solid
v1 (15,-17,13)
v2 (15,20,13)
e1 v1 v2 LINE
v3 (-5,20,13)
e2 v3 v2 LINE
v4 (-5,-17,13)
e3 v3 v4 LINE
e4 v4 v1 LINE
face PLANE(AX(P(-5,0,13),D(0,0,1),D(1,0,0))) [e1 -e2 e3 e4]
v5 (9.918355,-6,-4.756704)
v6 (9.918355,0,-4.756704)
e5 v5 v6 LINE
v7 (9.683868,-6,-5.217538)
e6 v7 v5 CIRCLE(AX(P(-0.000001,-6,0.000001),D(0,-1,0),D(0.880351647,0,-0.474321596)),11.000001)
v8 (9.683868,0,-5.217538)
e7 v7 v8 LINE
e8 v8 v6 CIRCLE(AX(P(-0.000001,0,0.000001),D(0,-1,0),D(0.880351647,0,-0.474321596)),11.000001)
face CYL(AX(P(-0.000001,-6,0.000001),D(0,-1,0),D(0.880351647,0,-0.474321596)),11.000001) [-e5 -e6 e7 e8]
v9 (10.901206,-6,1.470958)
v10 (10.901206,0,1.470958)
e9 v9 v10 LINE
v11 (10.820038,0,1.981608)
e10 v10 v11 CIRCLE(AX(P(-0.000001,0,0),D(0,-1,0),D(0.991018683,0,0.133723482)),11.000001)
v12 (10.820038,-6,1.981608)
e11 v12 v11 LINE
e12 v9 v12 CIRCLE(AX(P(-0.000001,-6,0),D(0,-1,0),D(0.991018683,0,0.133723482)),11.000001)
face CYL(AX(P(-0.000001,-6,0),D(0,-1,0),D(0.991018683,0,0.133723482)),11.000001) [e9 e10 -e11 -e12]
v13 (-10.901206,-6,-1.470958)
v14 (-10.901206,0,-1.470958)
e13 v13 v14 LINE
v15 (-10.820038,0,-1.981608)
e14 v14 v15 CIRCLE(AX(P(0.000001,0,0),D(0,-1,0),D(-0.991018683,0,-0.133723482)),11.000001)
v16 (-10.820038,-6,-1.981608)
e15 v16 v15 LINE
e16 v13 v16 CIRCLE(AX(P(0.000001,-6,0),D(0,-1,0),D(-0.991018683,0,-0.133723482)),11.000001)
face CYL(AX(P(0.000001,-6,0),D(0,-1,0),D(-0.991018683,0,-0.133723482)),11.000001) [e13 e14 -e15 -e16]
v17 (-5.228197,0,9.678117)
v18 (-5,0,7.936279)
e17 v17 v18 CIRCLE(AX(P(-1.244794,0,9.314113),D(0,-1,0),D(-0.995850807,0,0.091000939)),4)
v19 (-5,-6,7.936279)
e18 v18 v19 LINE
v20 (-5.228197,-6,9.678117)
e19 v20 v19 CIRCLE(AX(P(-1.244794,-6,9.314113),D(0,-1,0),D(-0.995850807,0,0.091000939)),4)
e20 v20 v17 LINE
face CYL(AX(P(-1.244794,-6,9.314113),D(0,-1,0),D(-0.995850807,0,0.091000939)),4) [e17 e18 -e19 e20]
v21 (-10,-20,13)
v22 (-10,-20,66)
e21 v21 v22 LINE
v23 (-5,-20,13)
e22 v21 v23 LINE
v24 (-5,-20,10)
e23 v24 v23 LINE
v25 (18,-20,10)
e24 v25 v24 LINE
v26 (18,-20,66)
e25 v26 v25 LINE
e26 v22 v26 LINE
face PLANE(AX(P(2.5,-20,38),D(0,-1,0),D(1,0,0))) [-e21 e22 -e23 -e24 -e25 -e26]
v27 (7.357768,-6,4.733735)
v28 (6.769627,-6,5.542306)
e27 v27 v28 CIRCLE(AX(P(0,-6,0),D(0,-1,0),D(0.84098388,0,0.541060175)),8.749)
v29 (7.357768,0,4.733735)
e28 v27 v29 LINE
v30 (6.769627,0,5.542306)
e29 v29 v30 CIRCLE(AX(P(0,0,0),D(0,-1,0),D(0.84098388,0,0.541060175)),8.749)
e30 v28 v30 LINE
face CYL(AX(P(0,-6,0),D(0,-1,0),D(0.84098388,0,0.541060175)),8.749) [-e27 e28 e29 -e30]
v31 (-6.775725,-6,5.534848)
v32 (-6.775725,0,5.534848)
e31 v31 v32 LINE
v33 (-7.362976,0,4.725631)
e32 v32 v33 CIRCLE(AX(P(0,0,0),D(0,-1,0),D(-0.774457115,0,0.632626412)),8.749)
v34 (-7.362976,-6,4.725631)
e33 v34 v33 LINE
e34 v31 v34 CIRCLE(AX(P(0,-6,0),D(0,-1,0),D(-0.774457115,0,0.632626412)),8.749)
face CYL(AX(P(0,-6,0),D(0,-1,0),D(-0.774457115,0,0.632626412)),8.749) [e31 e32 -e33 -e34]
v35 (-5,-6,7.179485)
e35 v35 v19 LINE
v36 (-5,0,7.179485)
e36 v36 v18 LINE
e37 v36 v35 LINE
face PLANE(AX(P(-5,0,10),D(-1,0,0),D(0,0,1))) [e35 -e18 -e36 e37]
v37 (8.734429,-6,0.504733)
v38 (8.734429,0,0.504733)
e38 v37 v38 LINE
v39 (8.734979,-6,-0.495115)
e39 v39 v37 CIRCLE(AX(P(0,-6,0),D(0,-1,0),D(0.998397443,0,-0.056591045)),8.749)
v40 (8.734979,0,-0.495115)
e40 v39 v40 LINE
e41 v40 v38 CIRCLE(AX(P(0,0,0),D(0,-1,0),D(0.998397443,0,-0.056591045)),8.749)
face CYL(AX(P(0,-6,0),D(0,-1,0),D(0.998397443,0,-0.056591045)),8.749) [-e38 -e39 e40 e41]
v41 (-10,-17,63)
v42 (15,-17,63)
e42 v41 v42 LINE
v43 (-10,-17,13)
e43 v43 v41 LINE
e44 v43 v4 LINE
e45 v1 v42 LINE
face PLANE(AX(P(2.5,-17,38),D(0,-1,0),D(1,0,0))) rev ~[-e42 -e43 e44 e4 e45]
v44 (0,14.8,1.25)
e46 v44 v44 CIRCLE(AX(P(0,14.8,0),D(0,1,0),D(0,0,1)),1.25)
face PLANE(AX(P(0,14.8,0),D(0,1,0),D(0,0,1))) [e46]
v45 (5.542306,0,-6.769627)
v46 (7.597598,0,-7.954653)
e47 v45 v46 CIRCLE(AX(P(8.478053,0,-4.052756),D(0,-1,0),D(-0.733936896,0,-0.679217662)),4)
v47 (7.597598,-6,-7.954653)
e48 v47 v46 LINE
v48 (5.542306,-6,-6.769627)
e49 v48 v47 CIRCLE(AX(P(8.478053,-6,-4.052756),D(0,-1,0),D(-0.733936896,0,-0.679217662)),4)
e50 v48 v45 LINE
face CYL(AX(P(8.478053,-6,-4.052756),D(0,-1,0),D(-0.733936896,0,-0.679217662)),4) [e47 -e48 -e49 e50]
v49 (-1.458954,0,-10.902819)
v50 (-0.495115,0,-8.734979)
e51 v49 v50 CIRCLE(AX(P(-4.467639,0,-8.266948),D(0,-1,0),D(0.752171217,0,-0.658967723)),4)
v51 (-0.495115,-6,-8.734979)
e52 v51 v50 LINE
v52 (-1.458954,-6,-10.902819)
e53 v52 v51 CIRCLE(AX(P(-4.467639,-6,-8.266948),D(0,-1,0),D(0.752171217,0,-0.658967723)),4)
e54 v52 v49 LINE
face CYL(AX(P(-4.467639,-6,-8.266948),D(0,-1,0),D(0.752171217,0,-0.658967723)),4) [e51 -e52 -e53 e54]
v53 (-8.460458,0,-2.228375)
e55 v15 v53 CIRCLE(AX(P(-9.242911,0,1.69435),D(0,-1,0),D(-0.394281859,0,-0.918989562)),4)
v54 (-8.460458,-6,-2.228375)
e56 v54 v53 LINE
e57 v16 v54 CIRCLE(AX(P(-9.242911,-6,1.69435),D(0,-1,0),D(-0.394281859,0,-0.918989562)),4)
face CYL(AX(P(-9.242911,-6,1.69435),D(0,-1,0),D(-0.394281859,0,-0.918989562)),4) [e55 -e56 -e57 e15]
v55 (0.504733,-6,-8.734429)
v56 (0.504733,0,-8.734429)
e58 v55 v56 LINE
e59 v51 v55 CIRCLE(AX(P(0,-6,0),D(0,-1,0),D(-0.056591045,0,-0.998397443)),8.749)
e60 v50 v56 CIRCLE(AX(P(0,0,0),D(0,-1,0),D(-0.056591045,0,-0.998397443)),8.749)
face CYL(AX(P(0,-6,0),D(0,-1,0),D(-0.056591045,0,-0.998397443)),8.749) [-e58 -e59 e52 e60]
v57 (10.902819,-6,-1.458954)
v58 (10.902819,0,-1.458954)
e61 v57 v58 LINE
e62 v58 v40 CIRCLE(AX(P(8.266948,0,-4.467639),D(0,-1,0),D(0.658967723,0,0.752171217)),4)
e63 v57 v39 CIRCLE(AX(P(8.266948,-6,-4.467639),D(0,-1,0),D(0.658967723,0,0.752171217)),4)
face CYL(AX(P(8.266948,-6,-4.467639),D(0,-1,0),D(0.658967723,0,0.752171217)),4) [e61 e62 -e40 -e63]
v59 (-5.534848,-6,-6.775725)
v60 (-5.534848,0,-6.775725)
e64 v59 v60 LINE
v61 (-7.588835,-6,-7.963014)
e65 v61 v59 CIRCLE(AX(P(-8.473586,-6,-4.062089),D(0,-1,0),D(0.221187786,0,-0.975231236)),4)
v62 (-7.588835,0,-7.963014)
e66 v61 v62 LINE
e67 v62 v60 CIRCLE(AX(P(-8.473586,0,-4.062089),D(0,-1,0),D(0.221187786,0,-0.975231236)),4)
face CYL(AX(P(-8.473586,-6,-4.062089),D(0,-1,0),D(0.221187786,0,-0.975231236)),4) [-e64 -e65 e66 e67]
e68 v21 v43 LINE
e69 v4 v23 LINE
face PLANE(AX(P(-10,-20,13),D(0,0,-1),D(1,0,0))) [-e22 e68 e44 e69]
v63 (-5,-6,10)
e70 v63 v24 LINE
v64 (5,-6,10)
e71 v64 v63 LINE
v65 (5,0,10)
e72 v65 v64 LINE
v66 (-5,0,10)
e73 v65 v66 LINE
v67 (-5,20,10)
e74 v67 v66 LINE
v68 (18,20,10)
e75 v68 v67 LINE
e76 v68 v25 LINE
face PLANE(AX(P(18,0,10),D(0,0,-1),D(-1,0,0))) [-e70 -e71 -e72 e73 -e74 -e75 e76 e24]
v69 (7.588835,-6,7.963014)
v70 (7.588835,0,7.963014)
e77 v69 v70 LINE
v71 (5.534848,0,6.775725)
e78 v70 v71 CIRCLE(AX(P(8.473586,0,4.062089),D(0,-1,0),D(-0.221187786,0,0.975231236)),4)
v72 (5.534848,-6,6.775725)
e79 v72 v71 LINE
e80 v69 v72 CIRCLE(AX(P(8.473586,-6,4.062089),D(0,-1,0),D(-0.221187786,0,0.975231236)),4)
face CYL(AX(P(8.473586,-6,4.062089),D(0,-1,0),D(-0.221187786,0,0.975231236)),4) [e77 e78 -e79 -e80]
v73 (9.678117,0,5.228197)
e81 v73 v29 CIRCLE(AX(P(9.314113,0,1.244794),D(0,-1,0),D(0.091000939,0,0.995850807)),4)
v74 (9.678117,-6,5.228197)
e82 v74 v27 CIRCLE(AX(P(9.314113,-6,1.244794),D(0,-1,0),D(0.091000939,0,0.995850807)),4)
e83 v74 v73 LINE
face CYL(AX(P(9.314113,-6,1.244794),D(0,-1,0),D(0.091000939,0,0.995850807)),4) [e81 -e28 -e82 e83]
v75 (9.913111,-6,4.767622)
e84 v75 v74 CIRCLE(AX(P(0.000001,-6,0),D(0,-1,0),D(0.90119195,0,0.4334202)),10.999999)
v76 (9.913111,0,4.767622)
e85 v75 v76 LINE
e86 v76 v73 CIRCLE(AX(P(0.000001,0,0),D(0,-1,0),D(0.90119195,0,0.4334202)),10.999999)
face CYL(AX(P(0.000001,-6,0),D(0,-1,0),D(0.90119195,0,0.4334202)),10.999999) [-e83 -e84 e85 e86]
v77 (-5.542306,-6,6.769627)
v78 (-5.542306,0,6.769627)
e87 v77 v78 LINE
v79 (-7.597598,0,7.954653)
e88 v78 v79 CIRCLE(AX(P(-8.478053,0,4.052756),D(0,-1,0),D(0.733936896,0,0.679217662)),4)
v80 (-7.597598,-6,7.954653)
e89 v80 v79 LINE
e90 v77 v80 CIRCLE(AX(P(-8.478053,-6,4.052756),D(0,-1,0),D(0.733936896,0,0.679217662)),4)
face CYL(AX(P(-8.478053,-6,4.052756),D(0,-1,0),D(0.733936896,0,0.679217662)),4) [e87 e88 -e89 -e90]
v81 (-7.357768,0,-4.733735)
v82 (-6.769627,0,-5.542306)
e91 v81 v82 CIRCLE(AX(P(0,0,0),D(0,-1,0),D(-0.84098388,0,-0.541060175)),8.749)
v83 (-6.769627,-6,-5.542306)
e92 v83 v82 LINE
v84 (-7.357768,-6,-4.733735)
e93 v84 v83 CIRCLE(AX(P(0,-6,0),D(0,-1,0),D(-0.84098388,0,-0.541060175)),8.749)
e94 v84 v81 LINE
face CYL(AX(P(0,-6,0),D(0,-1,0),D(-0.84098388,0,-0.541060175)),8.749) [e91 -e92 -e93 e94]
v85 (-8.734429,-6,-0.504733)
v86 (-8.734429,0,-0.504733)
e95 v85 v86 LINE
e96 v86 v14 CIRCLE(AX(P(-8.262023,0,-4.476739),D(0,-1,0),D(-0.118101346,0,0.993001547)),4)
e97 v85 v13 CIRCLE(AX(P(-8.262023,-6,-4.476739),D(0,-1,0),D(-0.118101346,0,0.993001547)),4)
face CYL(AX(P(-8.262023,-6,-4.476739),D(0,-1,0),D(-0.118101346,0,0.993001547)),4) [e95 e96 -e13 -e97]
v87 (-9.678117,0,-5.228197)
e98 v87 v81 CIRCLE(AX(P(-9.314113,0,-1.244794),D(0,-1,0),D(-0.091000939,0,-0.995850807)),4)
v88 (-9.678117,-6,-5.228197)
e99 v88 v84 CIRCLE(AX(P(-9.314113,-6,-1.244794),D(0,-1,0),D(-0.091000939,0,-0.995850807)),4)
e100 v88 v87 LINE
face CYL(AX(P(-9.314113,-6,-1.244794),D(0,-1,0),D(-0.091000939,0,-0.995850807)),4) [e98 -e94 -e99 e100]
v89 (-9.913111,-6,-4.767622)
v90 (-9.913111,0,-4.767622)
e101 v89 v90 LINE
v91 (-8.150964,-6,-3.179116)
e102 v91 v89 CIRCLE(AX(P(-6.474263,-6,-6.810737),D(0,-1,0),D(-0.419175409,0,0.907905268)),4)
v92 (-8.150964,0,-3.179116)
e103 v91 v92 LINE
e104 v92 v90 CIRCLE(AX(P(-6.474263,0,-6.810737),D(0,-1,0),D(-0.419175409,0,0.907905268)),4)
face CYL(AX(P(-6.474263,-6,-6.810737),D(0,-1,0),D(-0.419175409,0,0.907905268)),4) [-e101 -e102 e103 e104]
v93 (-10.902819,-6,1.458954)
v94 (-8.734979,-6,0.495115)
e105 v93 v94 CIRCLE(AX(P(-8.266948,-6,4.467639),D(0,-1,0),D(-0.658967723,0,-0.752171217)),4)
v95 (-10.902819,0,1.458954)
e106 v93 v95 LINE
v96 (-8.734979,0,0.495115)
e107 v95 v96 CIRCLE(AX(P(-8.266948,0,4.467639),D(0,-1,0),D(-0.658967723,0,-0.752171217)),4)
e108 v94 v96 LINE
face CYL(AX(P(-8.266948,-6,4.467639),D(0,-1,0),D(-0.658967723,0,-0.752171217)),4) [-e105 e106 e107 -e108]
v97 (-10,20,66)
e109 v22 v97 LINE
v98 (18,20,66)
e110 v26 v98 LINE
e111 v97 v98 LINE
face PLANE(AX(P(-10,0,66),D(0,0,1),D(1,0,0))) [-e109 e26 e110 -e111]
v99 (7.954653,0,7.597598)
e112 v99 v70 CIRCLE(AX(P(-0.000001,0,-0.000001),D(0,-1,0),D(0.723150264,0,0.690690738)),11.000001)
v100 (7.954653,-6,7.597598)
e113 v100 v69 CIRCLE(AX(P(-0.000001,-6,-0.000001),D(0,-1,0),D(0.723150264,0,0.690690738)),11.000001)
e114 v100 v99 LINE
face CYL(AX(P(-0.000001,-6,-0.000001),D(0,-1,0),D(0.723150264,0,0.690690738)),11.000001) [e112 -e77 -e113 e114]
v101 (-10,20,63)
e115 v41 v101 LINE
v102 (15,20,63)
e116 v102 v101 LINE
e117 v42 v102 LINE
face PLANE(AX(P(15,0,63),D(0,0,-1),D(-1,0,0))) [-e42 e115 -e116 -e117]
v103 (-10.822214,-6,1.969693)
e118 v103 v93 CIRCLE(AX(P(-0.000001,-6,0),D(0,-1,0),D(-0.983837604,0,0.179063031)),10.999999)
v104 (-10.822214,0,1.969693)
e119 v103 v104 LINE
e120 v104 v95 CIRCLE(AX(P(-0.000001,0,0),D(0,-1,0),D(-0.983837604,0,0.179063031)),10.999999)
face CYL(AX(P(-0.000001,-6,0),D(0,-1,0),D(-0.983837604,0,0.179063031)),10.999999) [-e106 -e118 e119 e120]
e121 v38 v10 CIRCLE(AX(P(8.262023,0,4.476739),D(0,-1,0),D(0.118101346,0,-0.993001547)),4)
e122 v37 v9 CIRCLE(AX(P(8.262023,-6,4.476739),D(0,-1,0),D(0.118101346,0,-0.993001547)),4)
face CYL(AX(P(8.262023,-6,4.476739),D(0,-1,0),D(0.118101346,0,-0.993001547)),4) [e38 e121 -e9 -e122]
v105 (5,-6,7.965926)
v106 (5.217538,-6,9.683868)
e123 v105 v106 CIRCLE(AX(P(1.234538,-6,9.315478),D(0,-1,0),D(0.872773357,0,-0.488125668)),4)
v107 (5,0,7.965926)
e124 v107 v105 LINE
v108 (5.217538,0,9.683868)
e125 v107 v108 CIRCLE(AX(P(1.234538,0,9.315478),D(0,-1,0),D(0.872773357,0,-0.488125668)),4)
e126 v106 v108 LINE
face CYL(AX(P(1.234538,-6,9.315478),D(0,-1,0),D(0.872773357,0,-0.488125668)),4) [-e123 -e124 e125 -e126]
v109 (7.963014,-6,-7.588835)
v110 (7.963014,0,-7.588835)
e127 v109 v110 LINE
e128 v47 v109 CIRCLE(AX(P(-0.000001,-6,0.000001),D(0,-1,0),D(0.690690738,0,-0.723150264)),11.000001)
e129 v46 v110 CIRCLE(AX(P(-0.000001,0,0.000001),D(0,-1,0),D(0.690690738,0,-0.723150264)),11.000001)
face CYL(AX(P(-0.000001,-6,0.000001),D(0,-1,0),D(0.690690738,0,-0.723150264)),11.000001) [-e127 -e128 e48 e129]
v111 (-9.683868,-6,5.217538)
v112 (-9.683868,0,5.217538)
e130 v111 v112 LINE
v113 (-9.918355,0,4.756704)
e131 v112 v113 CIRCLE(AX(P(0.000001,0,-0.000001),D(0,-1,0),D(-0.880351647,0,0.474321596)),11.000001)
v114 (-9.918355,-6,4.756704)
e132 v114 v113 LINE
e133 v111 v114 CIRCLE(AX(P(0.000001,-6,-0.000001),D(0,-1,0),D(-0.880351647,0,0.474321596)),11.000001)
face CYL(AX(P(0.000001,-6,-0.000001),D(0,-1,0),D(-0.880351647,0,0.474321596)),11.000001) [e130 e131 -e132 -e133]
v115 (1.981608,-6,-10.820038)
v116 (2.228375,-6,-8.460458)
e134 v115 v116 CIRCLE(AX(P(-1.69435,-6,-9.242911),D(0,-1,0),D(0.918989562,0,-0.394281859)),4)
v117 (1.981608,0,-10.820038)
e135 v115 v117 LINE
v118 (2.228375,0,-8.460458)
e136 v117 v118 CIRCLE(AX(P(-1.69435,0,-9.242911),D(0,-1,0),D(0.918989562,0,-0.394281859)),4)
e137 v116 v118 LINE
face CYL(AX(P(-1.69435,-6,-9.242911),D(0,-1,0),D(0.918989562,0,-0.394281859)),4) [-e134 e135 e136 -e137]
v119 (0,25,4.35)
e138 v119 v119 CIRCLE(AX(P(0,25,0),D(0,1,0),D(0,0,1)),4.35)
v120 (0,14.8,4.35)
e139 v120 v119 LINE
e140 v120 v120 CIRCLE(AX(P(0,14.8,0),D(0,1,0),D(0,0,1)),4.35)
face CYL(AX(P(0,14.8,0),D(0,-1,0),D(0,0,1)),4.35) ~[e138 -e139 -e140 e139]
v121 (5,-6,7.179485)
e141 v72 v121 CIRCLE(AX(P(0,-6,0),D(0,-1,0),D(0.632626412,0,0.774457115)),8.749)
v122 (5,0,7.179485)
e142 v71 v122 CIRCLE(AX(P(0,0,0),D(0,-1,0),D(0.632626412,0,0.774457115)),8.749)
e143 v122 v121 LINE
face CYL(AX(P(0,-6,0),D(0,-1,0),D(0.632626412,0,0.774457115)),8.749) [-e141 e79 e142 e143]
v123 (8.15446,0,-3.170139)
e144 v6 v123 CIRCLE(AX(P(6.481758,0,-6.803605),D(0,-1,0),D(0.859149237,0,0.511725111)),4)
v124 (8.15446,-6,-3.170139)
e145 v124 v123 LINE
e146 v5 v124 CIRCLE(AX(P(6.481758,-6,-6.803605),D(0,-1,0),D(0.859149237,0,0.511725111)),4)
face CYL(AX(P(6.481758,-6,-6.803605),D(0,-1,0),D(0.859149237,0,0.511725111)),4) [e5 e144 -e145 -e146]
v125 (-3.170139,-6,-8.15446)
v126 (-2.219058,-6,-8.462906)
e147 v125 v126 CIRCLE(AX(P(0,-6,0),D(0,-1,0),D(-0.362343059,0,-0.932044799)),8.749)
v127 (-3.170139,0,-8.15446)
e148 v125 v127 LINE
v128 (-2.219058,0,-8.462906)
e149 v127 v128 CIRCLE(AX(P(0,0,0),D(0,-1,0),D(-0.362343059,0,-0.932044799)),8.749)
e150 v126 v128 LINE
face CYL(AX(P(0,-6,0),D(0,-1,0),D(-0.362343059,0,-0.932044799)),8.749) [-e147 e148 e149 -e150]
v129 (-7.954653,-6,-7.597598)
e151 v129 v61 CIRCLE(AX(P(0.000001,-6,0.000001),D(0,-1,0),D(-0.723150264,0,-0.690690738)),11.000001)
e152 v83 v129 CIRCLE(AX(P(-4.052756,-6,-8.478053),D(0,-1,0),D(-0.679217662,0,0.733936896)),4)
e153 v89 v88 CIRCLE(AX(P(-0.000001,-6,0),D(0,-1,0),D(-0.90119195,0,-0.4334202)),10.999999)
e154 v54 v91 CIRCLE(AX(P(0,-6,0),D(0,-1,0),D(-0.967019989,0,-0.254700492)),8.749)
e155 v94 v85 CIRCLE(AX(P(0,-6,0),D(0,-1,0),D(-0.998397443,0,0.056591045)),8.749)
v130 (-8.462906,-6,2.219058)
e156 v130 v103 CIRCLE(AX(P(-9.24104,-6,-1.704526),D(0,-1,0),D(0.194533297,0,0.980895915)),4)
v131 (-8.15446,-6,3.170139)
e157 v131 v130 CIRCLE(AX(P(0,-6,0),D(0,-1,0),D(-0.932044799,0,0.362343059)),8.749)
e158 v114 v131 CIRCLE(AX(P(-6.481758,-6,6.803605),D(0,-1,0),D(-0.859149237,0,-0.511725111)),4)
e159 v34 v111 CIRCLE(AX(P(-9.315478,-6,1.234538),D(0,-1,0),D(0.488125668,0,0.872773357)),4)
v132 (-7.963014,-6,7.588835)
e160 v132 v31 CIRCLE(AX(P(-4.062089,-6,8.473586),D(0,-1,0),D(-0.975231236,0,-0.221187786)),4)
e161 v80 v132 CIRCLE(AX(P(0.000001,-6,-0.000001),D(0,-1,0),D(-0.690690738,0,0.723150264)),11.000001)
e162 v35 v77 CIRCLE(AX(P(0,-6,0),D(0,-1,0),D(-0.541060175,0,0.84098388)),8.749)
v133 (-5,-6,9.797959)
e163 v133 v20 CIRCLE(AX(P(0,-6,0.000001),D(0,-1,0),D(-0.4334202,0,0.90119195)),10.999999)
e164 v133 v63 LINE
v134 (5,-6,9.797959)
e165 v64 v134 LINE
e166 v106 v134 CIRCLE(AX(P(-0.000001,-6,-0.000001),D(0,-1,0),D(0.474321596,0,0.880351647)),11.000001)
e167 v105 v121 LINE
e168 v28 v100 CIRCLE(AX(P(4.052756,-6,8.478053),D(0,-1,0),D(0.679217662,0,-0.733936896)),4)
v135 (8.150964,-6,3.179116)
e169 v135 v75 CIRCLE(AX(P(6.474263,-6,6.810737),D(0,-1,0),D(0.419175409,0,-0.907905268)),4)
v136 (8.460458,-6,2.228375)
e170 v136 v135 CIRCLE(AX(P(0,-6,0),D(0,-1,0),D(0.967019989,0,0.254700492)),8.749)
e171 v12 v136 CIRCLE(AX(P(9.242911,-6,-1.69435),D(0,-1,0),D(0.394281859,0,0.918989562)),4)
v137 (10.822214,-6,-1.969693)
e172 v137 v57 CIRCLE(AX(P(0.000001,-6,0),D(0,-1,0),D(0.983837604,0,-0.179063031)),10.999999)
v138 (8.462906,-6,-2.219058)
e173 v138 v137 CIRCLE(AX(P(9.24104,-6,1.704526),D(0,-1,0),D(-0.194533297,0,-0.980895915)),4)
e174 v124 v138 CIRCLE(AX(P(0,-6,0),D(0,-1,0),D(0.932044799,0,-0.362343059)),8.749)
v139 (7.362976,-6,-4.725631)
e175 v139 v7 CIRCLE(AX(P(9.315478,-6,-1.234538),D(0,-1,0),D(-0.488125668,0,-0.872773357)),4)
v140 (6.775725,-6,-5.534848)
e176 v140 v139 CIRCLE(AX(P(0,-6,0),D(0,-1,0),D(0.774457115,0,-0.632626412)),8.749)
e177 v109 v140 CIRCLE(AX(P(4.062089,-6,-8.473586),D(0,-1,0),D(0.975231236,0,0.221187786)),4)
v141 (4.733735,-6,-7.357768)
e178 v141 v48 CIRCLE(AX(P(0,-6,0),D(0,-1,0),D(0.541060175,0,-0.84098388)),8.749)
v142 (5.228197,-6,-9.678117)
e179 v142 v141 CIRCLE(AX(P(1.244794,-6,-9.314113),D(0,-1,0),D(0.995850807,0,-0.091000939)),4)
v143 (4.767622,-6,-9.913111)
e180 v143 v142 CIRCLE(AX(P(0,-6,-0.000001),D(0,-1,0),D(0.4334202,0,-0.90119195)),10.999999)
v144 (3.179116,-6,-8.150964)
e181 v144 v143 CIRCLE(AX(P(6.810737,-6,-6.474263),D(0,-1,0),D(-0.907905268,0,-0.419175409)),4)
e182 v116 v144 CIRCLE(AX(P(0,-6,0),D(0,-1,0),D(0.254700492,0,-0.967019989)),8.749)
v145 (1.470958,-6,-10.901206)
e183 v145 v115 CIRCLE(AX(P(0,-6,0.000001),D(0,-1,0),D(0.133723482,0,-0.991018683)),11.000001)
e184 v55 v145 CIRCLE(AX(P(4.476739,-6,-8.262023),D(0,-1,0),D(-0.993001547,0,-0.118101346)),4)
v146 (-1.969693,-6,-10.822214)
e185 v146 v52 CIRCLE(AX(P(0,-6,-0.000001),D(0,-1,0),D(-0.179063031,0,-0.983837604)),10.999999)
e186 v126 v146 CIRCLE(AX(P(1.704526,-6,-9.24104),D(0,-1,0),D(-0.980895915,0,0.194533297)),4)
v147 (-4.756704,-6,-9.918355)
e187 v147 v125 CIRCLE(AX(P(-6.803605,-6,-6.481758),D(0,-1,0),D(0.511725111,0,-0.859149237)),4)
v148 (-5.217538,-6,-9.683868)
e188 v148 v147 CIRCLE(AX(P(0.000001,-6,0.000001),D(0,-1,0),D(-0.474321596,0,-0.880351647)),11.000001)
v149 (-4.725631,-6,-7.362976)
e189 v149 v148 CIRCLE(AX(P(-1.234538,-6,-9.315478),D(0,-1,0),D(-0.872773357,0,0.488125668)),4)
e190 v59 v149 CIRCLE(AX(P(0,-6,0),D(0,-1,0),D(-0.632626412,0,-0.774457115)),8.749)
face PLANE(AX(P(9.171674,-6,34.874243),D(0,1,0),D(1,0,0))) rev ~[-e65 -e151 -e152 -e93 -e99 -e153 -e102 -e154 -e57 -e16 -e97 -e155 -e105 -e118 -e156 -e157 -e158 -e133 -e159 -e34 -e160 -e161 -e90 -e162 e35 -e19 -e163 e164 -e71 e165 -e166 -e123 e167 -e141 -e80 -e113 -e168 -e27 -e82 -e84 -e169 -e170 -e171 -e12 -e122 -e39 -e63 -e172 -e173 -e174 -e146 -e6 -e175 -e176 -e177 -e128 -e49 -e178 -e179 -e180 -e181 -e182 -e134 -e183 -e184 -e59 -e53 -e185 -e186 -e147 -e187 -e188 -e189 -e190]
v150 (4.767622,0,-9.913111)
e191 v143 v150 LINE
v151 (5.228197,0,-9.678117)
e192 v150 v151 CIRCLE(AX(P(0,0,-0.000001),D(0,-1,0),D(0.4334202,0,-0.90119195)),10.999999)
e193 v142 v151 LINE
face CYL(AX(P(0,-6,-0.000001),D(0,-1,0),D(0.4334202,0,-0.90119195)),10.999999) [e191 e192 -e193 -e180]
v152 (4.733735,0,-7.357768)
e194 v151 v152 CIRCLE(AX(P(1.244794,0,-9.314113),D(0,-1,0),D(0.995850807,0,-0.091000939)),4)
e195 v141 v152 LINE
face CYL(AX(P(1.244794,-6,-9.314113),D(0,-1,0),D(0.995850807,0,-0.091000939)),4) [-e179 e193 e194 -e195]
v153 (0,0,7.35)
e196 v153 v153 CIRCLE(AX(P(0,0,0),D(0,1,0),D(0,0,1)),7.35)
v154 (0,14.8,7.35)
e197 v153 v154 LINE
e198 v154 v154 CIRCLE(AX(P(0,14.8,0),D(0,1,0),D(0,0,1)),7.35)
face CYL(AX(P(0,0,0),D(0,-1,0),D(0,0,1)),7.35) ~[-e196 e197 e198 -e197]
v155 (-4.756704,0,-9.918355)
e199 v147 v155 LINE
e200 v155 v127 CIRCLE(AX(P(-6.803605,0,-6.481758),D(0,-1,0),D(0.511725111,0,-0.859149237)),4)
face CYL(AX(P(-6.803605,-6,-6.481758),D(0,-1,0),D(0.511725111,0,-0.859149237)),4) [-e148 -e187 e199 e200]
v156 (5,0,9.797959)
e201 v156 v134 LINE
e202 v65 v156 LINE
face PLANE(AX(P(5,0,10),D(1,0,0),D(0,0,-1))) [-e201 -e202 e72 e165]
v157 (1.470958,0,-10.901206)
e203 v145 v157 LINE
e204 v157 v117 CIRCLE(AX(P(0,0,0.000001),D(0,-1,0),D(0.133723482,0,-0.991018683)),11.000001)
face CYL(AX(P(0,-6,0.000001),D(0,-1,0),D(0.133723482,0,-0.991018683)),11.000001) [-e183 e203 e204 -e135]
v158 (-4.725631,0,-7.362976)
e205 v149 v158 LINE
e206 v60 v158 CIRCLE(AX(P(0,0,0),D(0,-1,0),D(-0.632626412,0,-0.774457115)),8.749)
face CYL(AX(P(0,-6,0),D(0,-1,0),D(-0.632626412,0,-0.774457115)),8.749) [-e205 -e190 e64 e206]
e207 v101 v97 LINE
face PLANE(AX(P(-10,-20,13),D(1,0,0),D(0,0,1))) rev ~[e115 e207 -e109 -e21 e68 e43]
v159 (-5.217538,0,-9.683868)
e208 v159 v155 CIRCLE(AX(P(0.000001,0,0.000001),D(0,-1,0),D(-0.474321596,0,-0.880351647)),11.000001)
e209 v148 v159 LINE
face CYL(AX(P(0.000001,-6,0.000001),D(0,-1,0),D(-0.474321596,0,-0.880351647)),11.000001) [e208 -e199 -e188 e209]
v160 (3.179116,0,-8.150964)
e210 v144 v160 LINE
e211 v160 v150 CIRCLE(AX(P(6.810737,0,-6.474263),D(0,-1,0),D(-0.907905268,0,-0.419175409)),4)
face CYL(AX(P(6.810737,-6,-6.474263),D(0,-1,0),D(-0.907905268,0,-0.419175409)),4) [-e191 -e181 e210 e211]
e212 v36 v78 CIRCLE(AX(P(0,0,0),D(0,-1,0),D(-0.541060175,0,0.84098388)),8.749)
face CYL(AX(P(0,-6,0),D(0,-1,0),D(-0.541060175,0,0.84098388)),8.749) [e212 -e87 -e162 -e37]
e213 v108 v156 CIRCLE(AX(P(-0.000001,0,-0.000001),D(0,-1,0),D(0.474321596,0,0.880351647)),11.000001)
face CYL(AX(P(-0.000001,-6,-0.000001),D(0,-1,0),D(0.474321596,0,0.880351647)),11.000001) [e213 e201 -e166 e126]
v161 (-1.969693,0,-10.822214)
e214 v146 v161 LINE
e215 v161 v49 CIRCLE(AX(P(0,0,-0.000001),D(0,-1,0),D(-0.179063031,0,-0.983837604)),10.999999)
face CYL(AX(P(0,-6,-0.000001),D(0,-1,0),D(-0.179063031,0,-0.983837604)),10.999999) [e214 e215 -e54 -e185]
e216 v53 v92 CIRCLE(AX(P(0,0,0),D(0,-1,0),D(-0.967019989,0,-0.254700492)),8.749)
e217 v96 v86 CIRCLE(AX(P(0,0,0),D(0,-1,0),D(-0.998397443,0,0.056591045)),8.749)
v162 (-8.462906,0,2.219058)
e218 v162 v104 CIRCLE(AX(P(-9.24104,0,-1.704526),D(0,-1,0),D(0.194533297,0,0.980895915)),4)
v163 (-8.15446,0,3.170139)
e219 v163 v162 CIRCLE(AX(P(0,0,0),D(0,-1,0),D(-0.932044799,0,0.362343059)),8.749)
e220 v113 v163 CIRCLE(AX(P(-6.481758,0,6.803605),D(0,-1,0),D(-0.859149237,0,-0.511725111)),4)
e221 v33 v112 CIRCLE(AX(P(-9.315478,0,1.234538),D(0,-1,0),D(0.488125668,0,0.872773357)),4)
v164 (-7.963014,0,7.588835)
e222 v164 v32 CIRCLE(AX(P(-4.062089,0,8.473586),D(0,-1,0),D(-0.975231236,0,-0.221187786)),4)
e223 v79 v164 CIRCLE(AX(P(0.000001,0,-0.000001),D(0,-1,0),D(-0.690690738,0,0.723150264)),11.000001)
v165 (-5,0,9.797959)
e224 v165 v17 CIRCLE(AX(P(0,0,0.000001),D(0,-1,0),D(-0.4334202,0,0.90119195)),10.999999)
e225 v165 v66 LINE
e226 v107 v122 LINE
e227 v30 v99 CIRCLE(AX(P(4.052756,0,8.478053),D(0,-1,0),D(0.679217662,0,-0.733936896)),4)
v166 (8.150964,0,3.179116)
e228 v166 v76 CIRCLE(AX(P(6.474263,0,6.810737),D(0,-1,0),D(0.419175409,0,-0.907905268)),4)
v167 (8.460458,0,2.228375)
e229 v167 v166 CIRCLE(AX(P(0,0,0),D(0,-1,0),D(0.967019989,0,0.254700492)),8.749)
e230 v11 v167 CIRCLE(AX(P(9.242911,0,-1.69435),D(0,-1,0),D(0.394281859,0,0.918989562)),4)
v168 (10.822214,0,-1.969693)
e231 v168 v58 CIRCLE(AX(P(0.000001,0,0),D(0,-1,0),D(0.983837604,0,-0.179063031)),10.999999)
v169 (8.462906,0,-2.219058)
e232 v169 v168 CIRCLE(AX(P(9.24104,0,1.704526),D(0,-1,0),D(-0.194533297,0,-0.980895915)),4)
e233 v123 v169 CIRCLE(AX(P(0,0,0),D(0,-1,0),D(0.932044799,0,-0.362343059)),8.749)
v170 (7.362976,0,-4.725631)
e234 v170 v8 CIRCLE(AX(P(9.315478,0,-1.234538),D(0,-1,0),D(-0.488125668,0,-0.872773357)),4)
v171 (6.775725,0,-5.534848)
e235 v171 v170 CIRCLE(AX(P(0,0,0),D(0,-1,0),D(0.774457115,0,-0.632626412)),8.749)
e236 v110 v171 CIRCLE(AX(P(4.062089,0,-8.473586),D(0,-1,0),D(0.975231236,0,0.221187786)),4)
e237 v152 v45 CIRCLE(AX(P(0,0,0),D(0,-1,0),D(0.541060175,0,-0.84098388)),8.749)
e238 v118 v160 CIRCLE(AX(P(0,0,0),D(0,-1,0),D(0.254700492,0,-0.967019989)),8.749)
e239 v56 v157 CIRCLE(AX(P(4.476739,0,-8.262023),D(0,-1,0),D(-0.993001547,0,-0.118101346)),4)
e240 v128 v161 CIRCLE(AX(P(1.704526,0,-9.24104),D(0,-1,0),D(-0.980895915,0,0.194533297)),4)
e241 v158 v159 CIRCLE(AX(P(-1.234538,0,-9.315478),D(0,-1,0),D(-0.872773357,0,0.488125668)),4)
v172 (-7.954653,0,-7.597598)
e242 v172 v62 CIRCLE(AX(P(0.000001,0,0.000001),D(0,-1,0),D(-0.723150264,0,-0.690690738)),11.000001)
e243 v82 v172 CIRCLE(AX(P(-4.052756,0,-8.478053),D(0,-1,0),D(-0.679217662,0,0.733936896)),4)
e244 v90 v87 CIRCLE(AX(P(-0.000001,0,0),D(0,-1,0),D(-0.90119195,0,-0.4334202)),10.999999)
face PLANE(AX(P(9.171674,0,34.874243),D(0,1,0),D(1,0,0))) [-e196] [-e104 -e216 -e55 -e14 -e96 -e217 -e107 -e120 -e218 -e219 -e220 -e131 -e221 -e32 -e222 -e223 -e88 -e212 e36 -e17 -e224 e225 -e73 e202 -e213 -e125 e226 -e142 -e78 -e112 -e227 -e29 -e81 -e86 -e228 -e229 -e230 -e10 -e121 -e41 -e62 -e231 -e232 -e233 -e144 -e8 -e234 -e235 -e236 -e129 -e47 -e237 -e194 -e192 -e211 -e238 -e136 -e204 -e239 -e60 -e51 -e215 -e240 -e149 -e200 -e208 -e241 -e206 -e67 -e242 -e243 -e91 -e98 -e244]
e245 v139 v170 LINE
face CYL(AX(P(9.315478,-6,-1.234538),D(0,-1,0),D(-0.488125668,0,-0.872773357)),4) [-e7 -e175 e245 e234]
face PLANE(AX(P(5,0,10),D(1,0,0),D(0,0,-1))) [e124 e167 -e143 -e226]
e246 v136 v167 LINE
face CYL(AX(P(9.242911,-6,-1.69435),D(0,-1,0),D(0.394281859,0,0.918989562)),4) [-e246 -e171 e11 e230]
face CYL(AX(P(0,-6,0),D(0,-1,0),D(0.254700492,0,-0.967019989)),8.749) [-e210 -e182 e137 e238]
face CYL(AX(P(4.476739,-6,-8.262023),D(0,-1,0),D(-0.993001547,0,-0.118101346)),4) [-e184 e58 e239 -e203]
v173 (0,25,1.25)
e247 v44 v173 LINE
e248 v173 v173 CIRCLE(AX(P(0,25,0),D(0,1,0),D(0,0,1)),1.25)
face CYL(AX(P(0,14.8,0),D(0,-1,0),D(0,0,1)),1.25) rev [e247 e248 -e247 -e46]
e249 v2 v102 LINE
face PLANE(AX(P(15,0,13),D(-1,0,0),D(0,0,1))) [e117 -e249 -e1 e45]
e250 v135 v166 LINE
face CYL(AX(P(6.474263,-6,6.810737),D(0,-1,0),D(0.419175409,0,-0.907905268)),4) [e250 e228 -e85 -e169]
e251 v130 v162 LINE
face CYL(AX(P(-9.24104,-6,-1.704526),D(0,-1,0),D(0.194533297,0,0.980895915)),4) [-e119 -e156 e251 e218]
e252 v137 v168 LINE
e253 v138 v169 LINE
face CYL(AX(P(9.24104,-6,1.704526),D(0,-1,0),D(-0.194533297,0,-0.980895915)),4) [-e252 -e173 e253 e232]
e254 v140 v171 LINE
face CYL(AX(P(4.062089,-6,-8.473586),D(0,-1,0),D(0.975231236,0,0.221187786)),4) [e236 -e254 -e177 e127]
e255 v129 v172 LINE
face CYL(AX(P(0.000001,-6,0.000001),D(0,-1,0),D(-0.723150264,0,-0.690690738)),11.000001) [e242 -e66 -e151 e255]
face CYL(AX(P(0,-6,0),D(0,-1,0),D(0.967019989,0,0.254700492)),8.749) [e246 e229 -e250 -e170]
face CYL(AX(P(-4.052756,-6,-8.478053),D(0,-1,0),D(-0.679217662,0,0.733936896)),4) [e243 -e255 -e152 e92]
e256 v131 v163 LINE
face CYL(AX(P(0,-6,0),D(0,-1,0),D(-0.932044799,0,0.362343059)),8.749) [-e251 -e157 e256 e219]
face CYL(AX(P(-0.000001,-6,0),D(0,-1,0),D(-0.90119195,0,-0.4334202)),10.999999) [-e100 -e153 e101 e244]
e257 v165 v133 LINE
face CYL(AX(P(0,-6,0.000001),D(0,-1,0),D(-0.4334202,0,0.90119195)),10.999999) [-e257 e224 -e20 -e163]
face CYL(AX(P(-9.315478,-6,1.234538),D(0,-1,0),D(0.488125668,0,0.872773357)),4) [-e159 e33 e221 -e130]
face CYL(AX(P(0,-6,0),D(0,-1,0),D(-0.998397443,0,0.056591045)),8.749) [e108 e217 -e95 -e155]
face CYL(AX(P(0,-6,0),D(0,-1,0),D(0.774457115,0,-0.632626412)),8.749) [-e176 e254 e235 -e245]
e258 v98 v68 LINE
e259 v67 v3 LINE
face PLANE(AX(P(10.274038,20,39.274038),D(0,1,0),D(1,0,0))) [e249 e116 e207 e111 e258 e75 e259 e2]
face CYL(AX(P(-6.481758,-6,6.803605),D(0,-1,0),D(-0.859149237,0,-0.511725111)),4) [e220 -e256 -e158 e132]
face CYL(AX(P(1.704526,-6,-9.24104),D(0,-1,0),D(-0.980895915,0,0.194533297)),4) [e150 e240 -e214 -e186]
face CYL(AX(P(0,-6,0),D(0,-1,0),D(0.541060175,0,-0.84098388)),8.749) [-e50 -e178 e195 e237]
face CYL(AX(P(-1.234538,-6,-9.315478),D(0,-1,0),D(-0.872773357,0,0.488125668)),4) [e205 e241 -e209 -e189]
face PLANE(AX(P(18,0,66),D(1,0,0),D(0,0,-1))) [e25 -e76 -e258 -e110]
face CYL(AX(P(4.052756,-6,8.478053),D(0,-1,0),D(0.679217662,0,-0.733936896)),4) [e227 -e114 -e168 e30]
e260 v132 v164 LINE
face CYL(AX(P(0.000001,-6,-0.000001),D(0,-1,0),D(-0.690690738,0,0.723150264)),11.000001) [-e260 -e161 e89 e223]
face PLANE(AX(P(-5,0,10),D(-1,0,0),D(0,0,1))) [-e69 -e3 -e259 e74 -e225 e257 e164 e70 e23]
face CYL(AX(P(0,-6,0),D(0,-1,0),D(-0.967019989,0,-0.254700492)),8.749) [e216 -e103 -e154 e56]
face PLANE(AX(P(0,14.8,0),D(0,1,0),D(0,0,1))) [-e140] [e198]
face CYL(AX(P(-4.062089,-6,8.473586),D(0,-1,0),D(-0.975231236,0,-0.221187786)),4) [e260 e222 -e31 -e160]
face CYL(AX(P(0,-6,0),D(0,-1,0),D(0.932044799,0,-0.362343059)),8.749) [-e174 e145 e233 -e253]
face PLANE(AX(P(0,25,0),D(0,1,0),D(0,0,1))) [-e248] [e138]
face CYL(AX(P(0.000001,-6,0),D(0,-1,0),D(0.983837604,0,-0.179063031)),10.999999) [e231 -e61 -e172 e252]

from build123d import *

# Parameters (mm, degrees)
EXTRUDE_1_DEPTH = 6
EXTRUDE_2_DEPTH = 20
SKETCH_3_W      = 25
SKETCH_3_H      = 50
EXTRUDE_3_DEPTH = 3
EXTRUDE_4_DEPTH = 6
SKETCH_5_R      = 7.35
EXTRUDE_5_DEPTH = 14.8
SKETCH_6_R      = 4.35
SKETCH_6_R_2    = 1.25
EXTRUDE_6_DEPTH = 10.2


with BuildPart() as part:
    # 草图1 → 凸台-拉伸1 (new body)
    with BuildSketch(Plane(origin=(0, 0, 0), x_dir=(1, 0, 0), z_dir=(0, 1, 0))):
        with BuildLine():
            Line((-5, 0), (-5, -13))
            Line((-5, -13), (15, -13))
            Line((15, -13), (15, -63))
            Line((15, -63), (-10, -63))
            Line((-10, -63), (-10, -66))
            Line((-10, -66), (18, -66))
            Line((18, -66), (18, -10))
            Line((18, -10), (5, -10))
            Line((5, -10), (5, 0))
            ThreePointArc((5, 0), (0, 5), (-5, 0))
        make_face()
    extrude(amount=-EXTRUDE_1_DEPTH)

    # 草图2 → 凸台-拉伸2 (add, symmetric)
    with BuildSketch(Plane(origin=(0, 0, 0), x_dir=(1, 0, 0), z_dir=(0, 1, 0))):
        Polygon((-5, -13), (15, -13), (15, -63), (-10, -63), (-10, -66), (18, -66), (18, -10), (-5, -10), align=None)
    extrude(amount=EXTRUDE_2_DEPTH, both=True)

    # 草图3 → 凸台-拉伸3 (add)
    with BuildSketch(Plane.XZ.offset(20)):
        with Locations((2.5, 38)):
            Rectangle(SKETCH_3_W, SKETCH_3_H)
    extrude(amount=-EXTRUDE_3_DEPTH)

    # 草图4 → 凸台-拉伸4 (add)
    with BuildSketch(Plane.XZ.offset(6)):
        with BuildLine():
            ThreePointArc((-0.504732798, 8.734428762), (-0.823506466, 9.891100464), (-1.470958285, 10.901205517))
            ThreePointArc((-1.470958285, 10.901205517), (-1.726760313, 10.86362273), (-1.981608382, 10.820038273))
            ThreePointArc((-1.981608382, 10.820038273), (-2.283953757, 9.65896405), (-2.228374617, 8.460457882))
            ThreePointArc((-2.228374617, 8.460457882), (-2.708170263, 8.319303747), (-3.17911634, 8.150964378))
            ThreePointArc((-3.17911634, 8.150964378), (-3.839719327, 9.152518056), (-4.767622226, 9.913111434))
            ThreePointArc((-4.767622226, 9.913111434), (-4.999290692, 9.798320906), (-5.228197271, 9.678117239))
            ThreePointArc((-5.228197271, 9.678117239), (-5.156953143, 8.480440175), (-4.733735466, 7.357767973))
            ThreePointArc((-4.733735466, 7.357767973), (-5.146429214, 7.075257405), (-5.542305825, 6.76962681))
            ThreePointArc((-5.542305825, 6.76962681), (-6.480073708, 7.518023412), (-7.597598086, 7.954652936))
            ThreePointArc((-7.597598086, 7.954652936), (-7.782455665, 7.773891163), (-7.963013783, 7.588834659))
            ThreePointArc((-7.963013783, 7.588834659), (-7.525154025, 6.471791729), (-6.775725305, 5.53484847))
            ThreePointArc((-6.775725305, 5.53484847), (-7.080919818, 5.138635571), (-7.3629758, 4.725631002))
            ThreePointArc((-7.3629758, 4.725631002), (-8.486113324, 5.147612255), (-9.683868109, 5.217537585))
            ThreePointArc((-9.683868109, 5.217537585), (-9.803819655, 4.988498789), (-9.918355025, 4.756704069))
            ThreePointArc((-9.918355025, 4.756704069), (-9.1567404, 3.829639217), (-8.154459943, 3.170139435))
            ThreePointArc((-8.154459943, 3.170139435), (-8.322280653, 2.699008286), (-8.462906403, 2.219057507))
            ThreePointArc((-8.462906403, 2.219057507), (-9.661473042, 2.273316945), (-10.82221365, 1.969693302))
            ThreePointArc((-10.82221365, 1.969693302), (-10.86551747, 1.714797397), (-10.902818572, 1.458954141))
            ThreePointArc((-10.902818572, 1.458954141), (-9.892001226, 0.812614936), (-8.734979226, 0.495115065))
            ThreePointArc((-8.734979226, 0.495115065), (-8.748998674, -0.004816736), (-8.734428762, -0.504732798))
            ThreePointArc((-8.734428762, -0.504732798), (-9.891100464, -0.823506466), (-10.901205517, -1.470958285))
            ThreePointArc((-10.901205517, -1.470958285), (-10.86362273, -1.726760313), (-10.820038273, -1.981608382))
            ThreePointArc((-10.820038273, -1.981608382), (-9.65896405, -2.283953757), (-8.460457882, -2.228374617))
            ThreePointArc((-8.460457882, -2.228374617), (-8.319303747, -2.708170263), (-8.150964378, -3.17911634))
            ThreePointArc((-8.150964378, -3.17911634), (-9.152518056, -3.839719327), (-9.913111434, -4.767622226))
            ThreePointArc((-9.913111434, -4.767622226), (-9.798320906, -4.999290692), (-9.678117239, -5.228197271))
            ThreePointArc((-9.678117239, -5.228197271), (-8.480440175, -5.156953143), (-7.357767973, -4.733735466))
            ThreePointArc((-7.357767973, -4.733735466), (-7.075257405, -5.146429214), (-6.76962681, -5.542305825))
            ThreePointArc((-6.76962681, -5.542305825), (-7.518023412, -6.480073708), (-7.954652936, -7.597598086))
            ThreePointArc((-7.954652936, -7.597598086), (-7.773891163, -7.782455665), (-7.588834659, -7.963013783))
            ThreePointArc((-7.588834659, -7.963013783), (-6.471791729, -7.525154025), (-5.53484847, -6.775725305))
            ThreePointArc((-5.53484847, -6.775725305), (-5.138635571, -7.080919818), (-4.725631002, -7.3629758))
            ThreePointArc((-4.725631002, -7.3629758), (-5.147612255, -8.486113324), (-5.217537585, -9.683868109))
            ThreePointArc((-5.217537585, -9.683868109), (-4.988498789, -9.803819655), (-4.756704069, -9.918355025))
            ThreePointArc((-4.756704069, -9.918355025), (-3.829639217, -9.1567404), (-3.170139435, -8.154459943))
            ThreePointArc((-3.170139435, -8.154459943), (-2.699008286, -8.322280653), (-2.219057507, -8.462906403))
            ThreePointArc((-2.219057507, -8.462906403), (-2.273316945, -9.661473042), (-1.969693302, -10.82221365))
            ThreePointArc((-1.969693302, -10.82221365), (-1.714797397, -10.86551747), (-1.458954141, -10.902818572))
            ThreePointArc((-1.458954141, -10.902818572), (-0.812614936, -9.892001226), (-0.495115065, -8.734979226))
            ThreePointArc((-0.495115065, -8.734979226), (0.004816736, -8.748998674), (0.504732798, -8.734428762))
            ThreePointArc((0.504732798, -8.734428762), (0.823506466, -9.891100464), (1.470958285, -10.901205517))
            ThreePointArc((1.470958285, -10.901205517), (1.726760313, -10.86362273), (1.981608382, -10.820038273))
            ThreePointArc((1.981608382, -10.820038273), (2.283953757, -9.65896405), (2.228374617, -8.460457882))
            ThreePointArc((2.228374617, -8.460457882), (2.708170263, -8.319303747), (3.17911634, -8.150964378))
            ThreePointArc((3.17911634, -8.150964378), (3.839719327, -9.152518056), (4.767622226, -9.913111434))
            ThreePointArc((4.767622226, -9.913111434), (4.999290692, -9.798320906), (5.228197271, -9.678117239))
            ThreePointArc((5.228197271, -9.678117239), (5.156953143, -8.480440175), (4.733735466, -7.357767973))
            ThreePointArc((4.733735466, -7.357767973), (5.146429214, -7.075257405), (5.542305825, -6.76962681))
            ThreePointArc((5.542305825, -6.76962681), (6.480073708, -7.518023412), (7.597598086, -7.954652936))
            ThreePointArc((7.597598086, -7.954652936), (7.782455665, -7.773891163), (7.963013783, -7.588834659))
            ThreePointArc((7.963013783, -7.588834659), (7.525154025, -6.471791729), (6.775725305, -5.53484847))
            ThreePointArc((6.775725305, -5.53484847), (7.080919818, -5.138635571), (7.3629758, -4.725631002))
            ThreePointArc((7.3629758, -4.725631002), (8.486113324, -5.147612255), (9.683868109, -5.217537585))
            ThreePointArc((9.683868109, -5.217537585), (9.803819655, -4.988498789), (9.918355025, -4.756704069))
            ThreePointArc((9.918355025, -4.756704069), (9.1567404, -3.829639217), (8.154459943, -3.170139435))
            ThreePointArc((8.154459943, -3.170139435), (8.322280653, -2.699008286), (8.462906403, -2.219057507))
            ThreePointArc((8.462906403, -2.219057507), (9.661473042, -2.273316945), (10.82221365, -1.969693302))
            ThreePointArc((10.82221365, -1.969693302), (10.86551747, -1.714797397), (10.902818572, -1.458954141))
            ThreePointArc((10.902818572, -1.458954141), (9.892001226, -0.812614936), (8.734979226, -0.495115065))
            ThreePointArc((8.734979226, -0.495115065), (8.748998674, 0.004816736), (8.734428762, 0.504732798))
            ThreePointArc((8.734428762, 0.504732798), (9.891100464, 0.823506466), (10.901205517, 1.470958285))
            ThreePointArc((10.901205517, 1.470958285), (10.86362273, 1.726760313), (10.820038273, 1.981608382))
            ThreePointArc((10.820038273, 1.981608382), (9.65896405, 2.283953757), (8.460457882, 2.228374617))
            ThreePointArc((8.460457882, 2.228374617), (8.319303747, 2.708170263), (8.150964378, 3.17911634))
            ThreePointArc((8.150964378, 3.17911634), (9.152518056, 3.839719327), (9.913111434, 4.767622226))
            ThreePointArc((9.913111434, 4.767622226), (9.798320906, 4.999290692), (9.678117239, 5.228197271))
            ThreePointArc((9.678117239, 5.228197271), (8.480440175, 5.156953143), (7.357767973, 4.733735466))
            ThreePointArc((7.357767973, 4.733735466), (7.075257405, 5.146429214), (6.76962681, 5.542305825))
            ThreePointArc((6.76962681, 5.542305825), (7.518023412, 6.480073708), (7.954652936, 7.597598086))
            ThreePointArc((7.954652936, 7.597598086), (7.773891163, 7.782455665), (7.588834659, 7.963013783))
            ThreePointArc((7.588834659, 7.963013783), (6.471791729, 7.525154025), (5.53484847, 6.775725305))
            ThreePointArc((5.53484847, 6.775725305), (5.138635571, 7.080919818), (4.725631002, 7.3629758))
            ThreePointArc((4.725631002, 7.3629758), (5.147612255, 8.486113324), (5.217537585, 9.683868109))
            ThreePointArc((5.217537585, 9.683868109), (4.988498789, 9.803819655), (4.756704069, 9.918355025))
            ThreePointArc((4.756704069, 9.918355025), (3.829639217, 9.1567404), (3.170139435, 8.154459943))
            ThreePointArc((3.170139435, 8.154459943), (2.699008286, 8.322280653), (2.219057507, 8.462906403))
            ThreePointArc((2.219057507, 8.462906403), (2.273316945, 9.661473042), (1.969693302, 10.82221365))
            ThreePointArc((1.969693302, 10.82221365), (1.714797397, 10.86551747), (1.458954141, 10.902818572))
            ThreePointArc((1.458954141, 10.902818572), (0.812614936, 9.892001226), (0.495115065, 8.734979226))
            ThreePointArc((0.495115065, 8.734979226), (-0.004816736, 8.748998674), (-0.504732798, 8.734428762))
        make_face()
    extrude(amount=-EXTRUDE_4_DEPTH)

    # 草图5 → 凸台-拉伸5 (add)
    with BuildSketch(Plane(origin=(0, 0, 0), x_dir=(1, 0, 0), z_dir=(0, 1, 0))):
        with Locations(Location((0, 0, 0), (0, 0, 270))):
            Circle(SKETCH_5_R)
    extrude(amount=EXTRUDE_5_DEPTH)

    # 草图6 → 凸台-拉伸6 (add)
    with BuildSketch(Plane(origin=(0, 14.8, 0), x_dir=(1, 0, 0), z_dir=(0, 1, 0))):
        with Locations(Location((0, 0, 0), (0, 0, 270))):
            Circle(SKETCH_6_R)
        with Locations(Location((0, 0, 0), (0, 0, 270))):
            Circle(SKETCH_6_R_2, mode=Mode.SUBTRACT)
    extrude(amount=EXTRUDE_6_DEPTH)


solid = part.part
